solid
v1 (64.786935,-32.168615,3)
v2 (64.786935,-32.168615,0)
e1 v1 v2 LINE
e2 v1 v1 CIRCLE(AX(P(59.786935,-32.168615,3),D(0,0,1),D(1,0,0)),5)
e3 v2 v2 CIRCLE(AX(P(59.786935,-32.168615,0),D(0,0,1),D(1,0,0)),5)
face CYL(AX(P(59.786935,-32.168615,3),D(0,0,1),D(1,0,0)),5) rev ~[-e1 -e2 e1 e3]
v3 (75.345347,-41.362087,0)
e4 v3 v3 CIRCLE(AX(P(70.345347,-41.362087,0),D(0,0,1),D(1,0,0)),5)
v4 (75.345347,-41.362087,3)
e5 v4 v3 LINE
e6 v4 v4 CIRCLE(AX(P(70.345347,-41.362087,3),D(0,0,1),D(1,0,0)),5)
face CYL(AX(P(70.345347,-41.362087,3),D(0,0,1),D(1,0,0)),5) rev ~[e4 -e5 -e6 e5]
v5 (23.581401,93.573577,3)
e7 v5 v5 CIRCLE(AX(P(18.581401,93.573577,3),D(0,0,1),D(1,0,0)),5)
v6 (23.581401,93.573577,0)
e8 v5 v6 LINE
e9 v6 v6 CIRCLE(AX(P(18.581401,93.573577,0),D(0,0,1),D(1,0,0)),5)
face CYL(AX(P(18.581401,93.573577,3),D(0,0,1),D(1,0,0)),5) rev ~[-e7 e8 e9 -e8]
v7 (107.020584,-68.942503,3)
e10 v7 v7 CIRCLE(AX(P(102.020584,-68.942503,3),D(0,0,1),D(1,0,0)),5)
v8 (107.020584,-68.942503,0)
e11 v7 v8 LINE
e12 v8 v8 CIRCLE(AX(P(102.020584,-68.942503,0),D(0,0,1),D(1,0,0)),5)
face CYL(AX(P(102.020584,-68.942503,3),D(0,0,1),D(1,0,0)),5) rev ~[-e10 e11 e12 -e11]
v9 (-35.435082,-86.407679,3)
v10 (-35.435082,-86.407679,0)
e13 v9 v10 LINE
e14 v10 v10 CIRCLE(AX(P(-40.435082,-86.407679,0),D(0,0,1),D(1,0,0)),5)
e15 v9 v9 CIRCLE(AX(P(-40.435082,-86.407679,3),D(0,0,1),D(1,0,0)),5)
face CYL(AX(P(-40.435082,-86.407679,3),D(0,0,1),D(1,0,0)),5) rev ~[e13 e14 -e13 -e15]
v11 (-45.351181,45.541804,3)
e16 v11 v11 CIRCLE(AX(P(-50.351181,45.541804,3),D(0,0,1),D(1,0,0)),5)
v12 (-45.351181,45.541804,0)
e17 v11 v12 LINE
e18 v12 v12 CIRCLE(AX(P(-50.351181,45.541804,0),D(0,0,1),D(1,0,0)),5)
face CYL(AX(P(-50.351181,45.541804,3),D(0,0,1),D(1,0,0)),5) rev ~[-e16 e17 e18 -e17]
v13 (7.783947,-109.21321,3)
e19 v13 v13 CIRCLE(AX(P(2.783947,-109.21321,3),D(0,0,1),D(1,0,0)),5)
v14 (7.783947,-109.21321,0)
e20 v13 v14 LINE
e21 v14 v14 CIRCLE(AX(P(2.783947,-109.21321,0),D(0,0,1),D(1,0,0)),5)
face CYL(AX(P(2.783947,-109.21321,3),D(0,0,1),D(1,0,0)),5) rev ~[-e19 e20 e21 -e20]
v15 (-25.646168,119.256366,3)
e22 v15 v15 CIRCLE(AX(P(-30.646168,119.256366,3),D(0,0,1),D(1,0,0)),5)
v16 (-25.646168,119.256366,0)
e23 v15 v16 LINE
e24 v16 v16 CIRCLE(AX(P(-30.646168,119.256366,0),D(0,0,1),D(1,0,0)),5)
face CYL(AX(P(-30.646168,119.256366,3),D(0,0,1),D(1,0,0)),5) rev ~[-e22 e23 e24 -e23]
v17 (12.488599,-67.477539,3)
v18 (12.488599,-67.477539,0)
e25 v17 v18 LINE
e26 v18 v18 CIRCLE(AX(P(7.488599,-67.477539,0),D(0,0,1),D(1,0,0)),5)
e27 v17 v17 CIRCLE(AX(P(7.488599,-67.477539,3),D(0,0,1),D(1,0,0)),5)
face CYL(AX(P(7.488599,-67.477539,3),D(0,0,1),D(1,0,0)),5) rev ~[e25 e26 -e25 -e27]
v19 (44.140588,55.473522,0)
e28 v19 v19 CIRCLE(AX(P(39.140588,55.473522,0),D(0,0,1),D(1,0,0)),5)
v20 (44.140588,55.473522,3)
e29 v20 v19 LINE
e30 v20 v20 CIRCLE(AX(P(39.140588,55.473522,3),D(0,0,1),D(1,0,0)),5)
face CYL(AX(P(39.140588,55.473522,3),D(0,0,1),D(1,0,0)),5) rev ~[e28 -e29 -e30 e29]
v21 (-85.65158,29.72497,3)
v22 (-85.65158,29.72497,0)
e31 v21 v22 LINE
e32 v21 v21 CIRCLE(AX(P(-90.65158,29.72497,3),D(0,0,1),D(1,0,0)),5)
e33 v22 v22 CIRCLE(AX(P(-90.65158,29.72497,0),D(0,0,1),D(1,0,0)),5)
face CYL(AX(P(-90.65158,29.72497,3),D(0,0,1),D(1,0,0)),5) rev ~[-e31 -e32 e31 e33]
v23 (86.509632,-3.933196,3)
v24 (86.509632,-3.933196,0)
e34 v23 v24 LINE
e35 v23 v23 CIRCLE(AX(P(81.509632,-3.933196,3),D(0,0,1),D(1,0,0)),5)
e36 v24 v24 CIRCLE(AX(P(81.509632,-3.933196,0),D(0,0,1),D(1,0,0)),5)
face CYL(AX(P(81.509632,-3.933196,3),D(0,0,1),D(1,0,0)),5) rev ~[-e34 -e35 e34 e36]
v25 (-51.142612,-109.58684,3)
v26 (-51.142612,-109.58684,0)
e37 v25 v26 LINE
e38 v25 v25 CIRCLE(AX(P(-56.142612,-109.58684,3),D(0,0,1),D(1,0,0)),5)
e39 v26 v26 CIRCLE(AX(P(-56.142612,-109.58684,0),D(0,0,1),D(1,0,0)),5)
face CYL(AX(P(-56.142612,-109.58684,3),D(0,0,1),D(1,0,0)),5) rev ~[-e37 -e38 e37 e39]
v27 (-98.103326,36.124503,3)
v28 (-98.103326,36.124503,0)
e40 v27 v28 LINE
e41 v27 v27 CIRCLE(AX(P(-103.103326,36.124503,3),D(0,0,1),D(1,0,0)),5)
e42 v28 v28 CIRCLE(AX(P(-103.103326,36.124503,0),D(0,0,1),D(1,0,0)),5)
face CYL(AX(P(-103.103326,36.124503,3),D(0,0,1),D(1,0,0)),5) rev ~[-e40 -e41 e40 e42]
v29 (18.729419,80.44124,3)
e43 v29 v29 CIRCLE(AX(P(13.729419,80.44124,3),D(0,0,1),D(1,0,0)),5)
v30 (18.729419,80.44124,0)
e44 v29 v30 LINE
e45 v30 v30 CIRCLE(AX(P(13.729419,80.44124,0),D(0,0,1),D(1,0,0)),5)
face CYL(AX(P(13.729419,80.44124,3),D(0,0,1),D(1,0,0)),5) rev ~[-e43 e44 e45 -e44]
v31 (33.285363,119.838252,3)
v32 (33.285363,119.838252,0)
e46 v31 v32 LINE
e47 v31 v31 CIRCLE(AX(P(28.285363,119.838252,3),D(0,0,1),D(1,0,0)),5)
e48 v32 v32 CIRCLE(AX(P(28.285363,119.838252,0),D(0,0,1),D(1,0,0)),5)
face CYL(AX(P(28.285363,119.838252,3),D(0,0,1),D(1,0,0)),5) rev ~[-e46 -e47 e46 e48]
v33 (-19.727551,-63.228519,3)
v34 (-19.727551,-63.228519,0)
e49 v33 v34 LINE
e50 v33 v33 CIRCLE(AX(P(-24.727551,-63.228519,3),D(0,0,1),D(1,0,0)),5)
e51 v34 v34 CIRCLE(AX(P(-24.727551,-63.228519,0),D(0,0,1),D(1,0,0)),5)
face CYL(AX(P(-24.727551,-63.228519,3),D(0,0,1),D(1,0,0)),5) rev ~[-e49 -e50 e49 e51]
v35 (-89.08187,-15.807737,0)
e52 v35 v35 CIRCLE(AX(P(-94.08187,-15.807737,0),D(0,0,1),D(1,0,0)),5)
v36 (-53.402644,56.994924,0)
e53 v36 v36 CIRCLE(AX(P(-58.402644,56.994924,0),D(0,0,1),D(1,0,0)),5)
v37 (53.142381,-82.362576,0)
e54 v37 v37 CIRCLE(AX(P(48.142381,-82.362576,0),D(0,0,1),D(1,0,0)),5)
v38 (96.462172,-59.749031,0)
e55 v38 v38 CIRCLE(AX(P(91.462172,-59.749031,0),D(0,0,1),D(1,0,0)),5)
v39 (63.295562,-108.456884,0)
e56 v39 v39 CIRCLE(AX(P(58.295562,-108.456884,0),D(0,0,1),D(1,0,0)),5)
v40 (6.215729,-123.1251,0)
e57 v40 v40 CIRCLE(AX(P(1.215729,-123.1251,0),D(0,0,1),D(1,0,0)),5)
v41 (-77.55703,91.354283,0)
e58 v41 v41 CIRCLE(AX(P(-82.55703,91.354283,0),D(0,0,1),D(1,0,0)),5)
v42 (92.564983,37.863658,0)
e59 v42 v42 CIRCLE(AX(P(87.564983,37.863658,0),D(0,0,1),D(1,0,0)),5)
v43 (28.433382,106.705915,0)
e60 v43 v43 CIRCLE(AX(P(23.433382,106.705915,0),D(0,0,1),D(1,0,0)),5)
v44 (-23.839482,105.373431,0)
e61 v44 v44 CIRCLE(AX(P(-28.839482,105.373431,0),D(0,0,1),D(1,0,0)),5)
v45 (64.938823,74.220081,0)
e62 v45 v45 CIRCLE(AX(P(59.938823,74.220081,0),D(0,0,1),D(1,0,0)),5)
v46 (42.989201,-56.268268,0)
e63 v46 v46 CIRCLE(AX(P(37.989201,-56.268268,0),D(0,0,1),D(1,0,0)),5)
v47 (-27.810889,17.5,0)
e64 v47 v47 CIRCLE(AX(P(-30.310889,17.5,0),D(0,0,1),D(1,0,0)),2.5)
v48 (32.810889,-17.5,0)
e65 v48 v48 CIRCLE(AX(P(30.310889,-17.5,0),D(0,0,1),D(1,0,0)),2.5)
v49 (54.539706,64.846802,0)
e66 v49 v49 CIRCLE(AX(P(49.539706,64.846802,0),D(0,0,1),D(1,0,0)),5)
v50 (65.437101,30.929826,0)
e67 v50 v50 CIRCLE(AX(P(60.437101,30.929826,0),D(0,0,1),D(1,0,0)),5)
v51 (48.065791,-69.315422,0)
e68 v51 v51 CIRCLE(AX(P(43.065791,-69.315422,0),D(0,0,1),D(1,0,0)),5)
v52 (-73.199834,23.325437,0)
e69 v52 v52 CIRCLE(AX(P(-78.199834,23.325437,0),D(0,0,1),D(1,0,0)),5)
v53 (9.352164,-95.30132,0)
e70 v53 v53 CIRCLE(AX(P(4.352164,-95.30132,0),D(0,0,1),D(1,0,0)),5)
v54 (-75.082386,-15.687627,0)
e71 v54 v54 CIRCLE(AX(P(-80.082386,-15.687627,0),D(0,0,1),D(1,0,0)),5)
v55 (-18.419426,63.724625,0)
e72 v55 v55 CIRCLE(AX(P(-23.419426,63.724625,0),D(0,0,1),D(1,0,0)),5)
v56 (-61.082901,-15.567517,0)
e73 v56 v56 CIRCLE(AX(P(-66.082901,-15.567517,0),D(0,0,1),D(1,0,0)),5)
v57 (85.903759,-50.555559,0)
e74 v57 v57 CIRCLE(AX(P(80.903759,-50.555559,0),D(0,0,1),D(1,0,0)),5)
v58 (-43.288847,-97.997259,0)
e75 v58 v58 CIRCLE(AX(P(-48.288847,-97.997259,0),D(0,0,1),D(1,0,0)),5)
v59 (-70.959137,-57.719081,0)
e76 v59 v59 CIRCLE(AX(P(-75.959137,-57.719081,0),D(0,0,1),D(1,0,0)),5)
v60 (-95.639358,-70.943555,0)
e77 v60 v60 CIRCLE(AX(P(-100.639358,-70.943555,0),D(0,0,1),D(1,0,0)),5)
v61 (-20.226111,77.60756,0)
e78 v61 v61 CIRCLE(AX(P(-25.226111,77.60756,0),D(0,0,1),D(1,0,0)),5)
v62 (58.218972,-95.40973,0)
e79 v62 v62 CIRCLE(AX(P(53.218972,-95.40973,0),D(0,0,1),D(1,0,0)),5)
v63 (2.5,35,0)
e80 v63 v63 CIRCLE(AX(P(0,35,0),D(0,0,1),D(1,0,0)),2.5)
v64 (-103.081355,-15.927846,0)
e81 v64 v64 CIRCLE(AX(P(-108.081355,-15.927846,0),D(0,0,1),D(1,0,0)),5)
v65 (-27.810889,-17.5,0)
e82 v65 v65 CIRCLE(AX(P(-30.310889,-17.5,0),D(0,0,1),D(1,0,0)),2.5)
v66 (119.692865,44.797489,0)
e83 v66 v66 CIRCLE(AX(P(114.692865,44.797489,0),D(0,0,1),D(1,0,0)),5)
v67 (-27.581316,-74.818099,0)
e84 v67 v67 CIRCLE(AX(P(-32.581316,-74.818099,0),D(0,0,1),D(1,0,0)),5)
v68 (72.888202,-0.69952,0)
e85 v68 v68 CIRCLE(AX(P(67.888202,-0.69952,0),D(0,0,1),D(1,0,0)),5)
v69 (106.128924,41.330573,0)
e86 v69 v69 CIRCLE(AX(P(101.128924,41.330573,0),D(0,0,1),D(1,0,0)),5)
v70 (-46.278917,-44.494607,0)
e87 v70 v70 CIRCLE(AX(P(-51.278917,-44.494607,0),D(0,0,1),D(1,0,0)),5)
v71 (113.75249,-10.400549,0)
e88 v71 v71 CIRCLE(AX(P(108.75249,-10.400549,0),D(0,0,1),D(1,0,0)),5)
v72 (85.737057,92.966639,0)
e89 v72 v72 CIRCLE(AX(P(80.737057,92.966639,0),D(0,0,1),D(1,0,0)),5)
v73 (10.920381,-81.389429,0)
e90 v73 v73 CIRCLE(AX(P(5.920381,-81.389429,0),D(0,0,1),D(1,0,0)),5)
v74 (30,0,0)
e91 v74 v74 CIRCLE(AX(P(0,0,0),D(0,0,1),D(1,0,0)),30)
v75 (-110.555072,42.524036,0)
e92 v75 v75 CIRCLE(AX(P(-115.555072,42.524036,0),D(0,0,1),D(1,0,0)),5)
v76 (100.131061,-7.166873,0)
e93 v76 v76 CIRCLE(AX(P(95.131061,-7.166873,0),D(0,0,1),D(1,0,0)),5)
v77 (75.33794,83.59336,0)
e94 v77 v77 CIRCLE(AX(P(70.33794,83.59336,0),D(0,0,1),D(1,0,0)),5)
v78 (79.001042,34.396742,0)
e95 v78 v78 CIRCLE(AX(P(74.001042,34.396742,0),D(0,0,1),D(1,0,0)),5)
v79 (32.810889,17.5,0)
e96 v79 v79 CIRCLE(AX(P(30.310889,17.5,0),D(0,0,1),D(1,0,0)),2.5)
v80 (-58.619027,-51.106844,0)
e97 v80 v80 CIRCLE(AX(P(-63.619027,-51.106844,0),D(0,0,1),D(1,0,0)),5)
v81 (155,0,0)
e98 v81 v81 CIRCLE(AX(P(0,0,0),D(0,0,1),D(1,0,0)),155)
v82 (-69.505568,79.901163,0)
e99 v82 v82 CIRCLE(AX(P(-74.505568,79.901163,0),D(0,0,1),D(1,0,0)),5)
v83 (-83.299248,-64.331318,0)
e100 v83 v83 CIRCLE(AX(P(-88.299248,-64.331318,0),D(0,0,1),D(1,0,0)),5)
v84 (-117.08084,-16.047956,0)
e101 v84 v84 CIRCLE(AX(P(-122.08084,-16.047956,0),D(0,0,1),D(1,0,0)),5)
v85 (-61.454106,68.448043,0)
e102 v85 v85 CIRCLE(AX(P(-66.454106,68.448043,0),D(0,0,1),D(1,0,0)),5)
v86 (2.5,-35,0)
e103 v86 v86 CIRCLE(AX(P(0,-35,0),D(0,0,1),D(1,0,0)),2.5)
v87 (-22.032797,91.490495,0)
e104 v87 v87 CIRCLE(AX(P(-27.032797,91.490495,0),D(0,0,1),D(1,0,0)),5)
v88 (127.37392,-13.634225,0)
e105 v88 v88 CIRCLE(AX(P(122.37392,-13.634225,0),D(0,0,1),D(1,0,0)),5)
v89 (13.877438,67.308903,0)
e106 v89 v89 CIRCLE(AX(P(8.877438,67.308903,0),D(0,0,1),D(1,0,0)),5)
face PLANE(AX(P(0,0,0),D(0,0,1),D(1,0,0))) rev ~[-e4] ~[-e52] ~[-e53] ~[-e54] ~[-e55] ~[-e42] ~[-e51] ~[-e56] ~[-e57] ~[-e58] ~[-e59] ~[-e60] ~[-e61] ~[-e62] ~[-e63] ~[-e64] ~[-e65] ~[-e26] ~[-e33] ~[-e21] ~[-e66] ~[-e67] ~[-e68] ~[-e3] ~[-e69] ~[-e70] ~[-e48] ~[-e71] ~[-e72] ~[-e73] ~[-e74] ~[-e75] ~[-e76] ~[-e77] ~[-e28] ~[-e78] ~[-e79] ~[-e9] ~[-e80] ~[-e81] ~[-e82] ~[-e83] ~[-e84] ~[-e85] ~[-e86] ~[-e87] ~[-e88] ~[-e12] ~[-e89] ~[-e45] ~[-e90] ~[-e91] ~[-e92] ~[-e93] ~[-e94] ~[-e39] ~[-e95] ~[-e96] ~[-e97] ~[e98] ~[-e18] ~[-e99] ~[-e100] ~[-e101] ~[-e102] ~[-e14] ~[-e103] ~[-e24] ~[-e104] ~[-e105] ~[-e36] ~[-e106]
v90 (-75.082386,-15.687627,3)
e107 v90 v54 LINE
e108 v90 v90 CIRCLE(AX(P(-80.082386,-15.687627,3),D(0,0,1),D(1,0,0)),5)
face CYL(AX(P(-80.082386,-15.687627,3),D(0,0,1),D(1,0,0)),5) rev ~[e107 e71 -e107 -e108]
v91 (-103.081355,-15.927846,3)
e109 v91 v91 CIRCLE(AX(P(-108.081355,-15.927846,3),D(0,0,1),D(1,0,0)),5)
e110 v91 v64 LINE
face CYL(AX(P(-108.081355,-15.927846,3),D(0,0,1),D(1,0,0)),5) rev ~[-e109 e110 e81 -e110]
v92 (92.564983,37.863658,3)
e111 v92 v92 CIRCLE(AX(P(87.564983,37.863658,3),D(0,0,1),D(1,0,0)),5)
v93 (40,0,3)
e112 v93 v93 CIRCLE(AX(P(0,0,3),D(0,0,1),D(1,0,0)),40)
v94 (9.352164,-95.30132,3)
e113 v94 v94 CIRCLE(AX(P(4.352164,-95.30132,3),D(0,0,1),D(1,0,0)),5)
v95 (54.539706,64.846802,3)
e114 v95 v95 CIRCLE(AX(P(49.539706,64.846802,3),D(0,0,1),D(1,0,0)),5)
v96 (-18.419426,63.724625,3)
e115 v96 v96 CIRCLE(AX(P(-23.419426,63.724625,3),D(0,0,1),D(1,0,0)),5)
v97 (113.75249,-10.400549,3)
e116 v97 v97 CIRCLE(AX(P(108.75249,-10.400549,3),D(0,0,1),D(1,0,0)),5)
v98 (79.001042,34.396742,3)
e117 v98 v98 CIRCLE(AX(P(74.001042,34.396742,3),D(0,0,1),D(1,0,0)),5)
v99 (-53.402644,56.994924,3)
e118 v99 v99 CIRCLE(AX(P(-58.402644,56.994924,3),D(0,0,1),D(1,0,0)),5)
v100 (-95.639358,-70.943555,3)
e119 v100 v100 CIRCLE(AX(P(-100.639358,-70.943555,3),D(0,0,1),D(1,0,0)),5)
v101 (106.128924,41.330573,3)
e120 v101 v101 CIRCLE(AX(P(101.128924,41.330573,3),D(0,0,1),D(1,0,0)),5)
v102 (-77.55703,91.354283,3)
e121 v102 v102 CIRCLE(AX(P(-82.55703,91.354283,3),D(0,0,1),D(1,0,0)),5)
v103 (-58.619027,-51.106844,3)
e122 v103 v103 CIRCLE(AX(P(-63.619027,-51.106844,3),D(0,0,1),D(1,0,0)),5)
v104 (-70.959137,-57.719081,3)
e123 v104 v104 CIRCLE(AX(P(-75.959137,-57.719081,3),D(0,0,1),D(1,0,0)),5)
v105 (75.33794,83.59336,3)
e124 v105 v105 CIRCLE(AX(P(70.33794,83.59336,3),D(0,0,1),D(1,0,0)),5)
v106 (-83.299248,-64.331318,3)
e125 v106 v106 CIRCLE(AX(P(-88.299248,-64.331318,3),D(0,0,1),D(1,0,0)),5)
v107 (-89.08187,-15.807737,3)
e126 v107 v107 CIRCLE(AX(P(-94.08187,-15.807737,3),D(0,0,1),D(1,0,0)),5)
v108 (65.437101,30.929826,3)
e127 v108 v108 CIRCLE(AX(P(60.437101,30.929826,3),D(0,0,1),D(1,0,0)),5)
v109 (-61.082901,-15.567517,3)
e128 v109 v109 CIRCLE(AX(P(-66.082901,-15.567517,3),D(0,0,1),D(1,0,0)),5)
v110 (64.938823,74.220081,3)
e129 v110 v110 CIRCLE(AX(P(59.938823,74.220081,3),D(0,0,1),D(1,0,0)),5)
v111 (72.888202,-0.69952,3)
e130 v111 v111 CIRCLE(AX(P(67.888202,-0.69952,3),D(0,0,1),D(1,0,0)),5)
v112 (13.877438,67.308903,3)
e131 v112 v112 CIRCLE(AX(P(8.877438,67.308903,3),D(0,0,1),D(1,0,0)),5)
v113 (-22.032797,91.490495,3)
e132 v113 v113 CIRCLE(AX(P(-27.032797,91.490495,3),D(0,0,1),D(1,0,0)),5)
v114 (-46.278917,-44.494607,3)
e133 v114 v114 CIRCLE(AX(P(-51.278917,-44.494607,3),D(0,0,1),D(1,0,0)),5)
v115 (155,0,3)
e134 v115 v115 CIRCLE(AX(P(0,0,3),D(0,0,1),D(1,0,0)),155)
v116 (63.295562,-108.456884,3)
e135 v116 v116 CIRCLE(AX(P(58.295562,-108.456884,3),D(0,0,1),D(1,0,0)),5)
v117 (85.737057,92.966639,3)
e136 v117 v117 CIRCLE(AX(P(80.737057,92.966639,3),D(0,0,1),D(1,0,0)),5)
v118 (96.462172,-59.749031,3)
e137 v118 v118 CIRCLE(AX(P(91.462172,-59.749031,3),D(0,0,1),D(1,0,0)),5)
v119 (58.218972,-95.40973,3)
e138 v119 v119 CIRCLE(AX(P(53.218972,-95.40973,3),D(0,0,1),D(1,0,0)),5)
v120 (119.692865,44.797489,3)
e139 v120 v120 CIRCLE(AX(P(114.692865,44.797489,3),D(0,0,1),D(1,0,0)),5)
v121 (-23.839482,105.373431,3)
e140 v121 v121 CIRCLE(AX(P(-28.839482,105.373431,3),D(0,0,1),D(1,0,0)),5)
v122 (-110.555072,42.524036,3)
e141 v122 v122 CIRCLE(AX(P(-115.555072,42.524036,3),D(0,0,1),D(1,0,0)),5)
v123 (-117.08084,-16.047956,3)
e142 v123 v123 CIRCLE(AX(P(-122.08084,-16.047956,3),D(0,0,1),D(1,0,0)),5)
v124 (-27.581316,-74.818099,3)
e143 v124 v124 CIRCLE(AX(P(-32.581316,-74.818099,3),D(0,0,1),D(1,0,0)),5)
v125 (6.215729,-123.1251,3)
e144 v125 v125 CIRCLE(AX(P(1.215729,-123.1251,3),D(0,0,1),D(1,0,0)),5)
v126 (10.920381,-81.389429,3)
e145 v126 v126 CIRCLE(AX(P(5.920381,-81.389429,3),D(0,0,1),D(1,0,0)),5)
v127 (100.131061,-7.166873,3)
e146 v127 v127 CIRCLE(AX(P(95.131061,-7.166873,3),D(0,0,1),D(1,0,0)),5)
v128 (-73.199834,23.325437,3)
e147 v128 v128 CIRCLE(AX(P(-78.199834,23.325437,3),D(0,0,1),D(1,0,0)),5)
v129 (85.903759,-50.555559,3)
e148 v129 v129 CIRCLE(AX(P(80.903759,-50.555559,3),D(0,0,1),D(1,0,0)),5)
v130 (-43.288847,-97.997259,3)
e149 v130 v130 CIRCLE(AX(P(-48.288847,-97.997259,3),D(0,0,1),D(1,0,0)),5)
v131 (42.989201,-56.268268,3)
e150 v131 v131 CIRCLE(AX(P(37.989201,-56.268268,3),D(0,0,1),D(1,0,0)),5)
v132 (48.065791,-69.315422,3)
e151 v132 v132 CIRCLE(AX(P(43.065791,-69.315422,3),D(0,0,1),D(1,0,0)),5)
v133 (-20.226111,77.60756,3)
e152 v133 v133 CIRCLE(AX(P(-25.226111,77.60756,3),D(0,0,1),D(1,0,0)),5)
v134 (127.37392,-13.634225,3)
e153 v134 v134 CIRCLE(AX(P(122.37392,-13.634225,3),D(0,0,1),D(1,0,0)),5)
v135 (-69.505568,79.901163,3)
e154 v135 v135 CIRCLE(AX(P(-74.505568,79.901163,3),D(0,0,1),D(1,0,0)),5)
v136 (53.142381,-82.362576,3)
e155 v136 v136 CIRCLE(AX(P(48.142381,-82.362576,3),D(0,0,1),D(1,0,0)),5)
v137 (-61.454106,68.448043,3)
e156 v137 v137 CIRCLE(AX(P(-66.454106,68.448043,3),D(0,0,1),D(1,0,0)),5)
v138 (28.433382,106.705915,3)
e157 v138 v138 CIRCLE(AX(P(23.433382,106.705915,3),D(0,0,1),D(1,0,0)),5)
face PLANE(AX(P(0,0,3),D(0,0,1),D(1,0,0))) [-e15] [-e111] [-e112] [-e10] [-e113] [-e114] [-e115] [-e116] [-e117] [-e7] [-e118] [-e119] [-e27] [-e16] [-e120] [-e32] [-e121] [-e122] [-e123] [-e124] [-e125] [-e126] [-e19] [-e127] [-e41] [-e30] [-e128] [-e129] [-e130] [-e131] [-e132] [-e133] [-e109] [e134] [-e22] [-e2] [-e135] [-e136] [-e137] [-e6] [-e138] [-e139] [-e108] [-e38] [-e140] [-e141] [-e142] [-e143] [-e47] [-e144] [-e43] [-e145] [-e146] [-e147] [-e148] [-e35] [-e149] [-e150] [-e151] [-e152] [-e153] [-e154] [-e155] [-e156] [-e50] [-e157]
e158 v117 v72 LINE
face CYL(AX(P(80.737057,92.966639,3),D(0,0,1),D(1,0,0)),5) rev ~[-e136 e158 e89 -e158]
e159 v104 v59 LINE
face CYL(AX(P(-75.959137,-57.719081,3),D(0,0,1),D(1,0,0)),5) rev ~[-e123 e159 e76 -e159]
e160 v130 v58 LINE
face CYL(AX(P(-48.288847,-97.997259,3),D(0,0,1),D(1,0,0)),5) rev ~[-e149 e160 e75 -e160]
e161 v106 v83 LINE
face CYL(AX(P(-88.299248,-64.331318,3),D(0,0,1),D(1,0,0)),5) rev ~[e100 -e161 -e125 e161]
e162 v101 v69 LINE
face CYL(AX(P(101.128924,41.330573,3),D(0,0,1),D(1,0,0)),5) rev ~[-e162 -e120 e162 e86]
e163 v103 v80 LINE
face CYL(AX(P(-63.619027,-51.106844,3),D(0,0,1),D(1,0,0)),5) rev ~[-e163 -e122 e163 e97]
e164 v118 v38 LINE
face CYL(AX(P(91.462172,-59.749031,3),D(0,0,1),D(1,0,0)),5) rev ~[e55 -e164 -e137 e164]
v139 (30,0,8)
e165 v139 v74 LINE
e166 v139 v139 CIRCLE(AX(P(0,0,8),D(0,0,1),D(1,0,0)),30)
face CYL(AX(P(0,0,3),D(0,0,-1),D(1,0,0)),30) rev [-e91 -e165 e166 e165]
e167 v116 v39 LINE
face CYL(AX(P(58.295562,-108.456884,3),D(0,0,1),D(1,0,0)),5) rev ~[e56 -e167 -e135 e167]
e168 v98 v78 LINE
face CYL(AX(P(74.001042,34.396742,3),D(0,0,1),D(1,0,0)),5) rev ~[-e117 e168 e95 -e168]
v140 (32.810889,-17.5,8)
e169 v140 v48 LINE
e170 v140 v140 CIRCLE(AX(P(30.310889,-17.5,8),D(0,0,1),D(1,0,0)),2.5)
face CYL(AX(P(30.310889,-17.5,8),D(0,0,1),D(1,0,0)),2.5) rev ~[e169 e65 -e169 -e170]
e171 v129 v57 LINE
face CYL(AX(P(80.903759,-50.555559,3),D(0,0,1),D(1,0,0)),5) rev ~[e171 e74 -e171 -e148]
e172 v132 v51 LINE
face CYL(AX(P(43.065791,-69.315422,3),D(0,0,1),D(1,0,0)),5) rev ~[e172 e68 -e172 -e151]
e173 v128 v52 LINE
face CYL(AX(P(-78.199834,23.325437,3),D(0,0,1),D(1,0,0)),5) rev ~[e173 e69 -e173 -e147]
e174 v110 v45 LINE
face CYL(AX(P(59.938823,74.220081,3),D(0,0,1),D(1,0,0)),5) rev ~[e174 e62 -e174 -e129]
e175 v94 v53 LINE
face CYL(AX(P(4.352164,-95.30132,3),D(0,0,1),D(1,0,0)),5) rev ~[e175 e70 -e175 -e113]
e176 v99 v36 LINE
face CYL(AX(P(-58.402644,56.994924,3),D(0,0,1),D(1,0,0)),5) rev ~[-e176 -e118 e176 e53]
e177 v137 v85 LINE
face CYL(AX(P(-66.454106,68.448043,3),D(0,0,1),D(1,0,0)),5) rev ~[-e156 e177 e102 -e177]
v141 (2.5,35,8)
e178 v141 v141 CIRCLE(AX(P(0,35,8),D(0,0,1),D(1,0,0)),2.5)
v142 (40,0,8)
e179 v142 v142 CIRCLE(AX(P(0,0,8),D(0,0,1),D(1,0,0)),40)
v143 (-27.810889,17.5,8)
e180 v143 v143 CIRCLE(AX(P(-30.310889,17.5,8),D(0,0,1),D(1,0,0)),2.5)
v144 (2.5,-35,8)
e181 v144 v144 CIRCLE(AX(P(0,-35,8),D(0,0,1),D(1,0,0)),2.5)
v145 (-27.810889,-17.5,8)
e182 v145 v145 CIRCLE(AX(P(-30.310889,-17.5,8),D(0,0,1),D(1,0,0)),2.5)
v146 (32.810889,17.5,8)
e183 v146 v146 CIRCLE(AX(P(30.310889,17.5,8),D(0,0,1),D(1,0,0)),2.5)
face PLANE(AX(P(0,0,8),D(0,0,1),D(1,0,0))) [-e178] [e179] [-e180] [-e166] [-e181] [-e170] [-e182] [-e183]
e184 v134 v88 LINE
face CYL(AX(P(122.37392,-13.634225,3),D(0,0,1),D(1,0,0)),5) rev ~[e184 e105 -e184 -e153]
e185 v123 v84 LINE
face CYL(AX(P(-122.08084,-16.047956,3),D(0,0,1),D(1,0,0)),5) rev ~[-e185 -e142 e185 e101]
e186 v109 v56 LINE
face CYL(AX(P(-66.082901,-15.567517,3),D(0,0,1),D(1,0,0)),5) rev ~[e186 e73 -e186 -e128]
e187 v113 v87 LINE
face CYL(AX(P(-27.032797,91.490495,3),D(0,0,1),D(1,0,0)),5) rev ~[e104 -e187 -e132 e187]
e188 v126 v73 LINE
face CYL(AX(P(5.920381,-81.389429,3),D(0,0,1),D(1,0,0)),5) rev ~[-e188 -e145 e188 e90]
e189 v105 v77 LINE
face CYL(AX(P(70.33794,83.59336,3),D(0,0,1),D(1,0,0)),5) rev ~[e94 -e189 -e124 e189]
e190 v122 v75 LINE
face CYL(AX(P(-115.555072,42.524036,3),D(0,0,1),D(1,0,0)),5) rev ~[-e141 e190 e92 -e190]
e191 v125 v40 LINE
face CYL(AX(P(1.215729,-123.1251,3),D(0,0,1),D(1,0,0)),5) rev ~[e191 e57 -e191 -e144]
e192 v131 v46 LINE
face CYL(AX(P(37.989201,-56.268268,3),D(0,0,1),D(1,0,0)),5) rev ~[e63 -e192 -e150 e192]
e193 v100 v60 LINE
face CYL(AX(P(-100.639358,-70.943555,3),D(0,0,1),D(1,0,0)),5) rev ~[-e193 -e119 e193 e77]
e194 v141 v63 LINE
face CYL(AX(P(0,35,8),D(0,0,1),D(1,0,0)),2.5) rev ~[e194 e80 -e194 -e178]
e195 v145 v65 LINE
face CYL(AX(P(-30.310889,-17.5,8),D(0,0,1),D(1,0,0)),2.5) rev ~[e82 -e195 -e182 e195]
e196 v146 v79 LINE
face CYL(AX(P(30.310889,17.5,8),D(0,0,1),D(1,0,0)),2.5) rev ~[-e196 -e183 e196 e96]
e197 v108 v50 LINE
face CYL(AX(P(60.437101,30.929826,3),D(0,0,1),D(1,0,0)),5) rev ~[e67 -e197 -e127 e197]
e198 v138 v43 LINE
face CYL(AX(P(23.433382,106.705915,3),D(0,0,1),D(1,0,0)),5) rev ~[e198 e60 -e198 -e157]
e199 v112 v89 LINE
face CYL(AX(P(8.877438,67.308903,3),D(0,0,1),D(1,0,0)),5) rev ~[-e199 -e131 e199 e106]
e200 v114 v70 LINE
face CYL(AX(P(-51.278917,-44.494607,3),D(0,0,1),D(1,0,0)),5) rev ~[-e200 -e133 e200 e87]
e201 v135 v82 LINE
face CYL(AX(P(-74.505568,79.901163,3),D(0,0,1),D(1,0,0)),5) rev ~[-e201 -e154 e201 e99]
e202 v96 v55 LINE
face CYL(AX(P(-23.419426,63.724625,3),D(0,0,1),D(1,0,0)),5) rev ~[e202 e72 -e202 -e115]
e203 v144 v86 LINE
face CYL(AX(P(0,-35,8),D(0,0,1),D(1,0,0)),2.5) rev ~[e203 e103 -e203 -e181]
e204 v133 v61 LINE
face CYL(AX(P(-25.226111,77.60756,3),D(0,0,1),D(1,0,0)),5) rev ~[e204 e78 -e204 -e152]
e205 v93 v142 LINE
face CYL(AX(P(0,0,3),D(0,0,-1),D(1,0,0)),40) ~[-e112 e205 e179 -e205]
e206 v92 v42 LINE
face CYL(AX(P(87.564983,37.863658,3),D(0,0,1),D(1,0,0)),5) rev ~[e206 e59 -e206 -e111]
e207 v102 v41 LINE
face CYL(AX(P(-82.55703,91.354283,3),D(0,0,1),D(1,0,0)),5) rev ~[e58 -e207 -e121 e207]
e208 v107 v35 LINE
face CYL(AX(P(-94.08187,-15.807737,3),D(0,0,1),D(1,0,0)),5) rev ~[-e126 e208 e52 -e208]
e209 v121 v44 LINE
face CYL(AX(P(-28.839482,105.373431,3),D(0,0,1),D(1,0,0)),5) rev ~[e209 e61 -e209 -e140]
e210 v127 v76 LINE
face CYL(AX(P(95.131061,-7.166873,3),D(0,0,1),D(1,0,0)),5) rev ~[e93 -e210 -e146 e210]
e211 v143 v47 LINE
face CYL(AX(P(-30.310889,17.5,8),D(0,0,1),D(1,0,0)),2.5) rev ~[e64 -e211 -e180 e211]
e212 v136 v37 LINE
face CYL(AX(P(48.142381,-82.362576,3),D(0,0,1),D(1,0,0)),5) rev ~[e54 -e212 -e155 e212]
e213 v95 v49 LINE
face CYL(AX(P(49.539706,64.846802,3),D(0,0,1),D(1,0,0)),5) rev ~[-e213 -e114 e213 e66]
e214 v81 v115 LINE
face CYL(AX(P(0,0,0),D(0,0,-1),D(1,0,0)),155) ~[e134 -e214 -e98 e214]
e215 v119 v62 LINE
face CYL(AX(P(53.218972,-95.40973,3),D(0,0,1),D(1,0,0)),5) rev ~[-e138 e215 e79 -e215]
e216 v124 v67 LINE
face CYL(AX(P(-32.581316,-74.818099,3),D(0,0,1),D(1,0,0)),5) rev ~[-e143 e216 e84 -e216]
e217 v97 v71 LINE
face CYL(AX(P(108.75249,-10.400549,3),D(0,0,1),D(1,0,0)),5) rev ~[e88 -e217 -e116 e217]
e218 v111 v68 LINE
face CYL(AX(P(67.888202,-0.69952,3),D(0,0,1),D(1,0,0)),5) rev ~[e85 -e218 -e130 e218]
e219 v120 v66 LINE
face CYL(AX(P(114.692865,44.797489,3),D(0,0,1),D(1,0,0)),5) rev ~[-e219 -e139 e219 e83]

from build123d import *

# Parameters (mm, degrees)
SKETCH1_R           = 155
SKETCH1_R_2         = 30
EXTRUDE_THIN1_DEPTH = 3
SKETCH3_R           = 40
SKETCH3_R_2         = 30
EXTRUDE_THIN2_DEPTH = 5
SKETCH7_R           = 5
CUT_EXTRUDE3_DEPTH  = 220.260119493
SKETCH9_R           = 2.5
CUT_EXTRUDE4_DEPTH  = 220.349036925


with BuildPart() as part:
    # Sketch1 → Extrude-Thin1 (new body)
    with BuildSketch(Plane.XY):
        Circle(SKETCH1_R)
        Circle(SKETCH1_R_2, mode=Mode.SUBTRACT)
    extrude(amount=EXTRUDE_THIN1_DEPTH)

    # Sketch3 → Extrude-Thin2 (add)
    with BuildSketch(Plane.XY.offset(3)):
        Circle(SKETCH3_R)
        Circle(SKETCH3_R_2, mode=Mode.SUBTRACT)
    extrude(amount=EXTRUDE_THIN2_DEPTH)

    # Sketch7 → Cut-Extrude3 (cut, through all)
    with BuildSketch(Plane.XY.offset(3)):
        with Locations((-50.351181472, 45.541803602)):
            Circle(SKETCH7_R)
        with Locations((-58.402643714, 56.994923516)):
            Circle(SKETCH7_R)
        with Locations((-66.454105956, 68.44804343)):
            Circle(SKETCH7_R)
        with Locations((-74.505568198, 79.901163345)):
            Circle(SKETCH7_R)
        with Locations((-82.55703044, 91.354283259)):
            Circle(SKETCH7_R)
        with Locations((-23.419425603, 63.724625189)):
            Circle(SKETCH7_R)
        with Locations((-25.226111144, 77.607560302)):
            Circle(SKETCH7_R)
        with Locations((-27.032796685, 91.490495415)):
            Circle(SKETCH7_R)
        with Locations((-28.839482226, 105.373430528)):
            Circle(SKETCH7_R)
        with Locations((-30.646167767, 119.256365641)):
            Circle(SKETCH7_R)
        with Locations((8.877438438, 67.308903109)):
            Circle(SKETCH7_R)
        with Locations((13.729419482, 80.441240295)):
            Circle(SKETCH7_R)
        with Locations((18.581400526, 93.57357748)):
            Circle(SKETCH7_R)
        with Locations((23.43338157, 106.705914665)):
            Circle(SKETCH7_R)
        with Locations((28.285362614, 119.83825185)):
            Circle(SKETCH7_R)
        with Locations((39.140588317, 55.473522488)):
            Circle(SKETCH7_R)
        with Locations((49.539705562, 64.846801558)):
            Circle(SKETCH7_R)
        with Locations((59.938822807, 74.220080628)):
            Circle(SKETCH7_R)
        with Locations((70.337940052, 83.593359698)):
            Circle(SKETCH7_R)
        with Locations((80.737057297, 92.966638768)):
            Circle(SKETCH7_R)
        with Locations((60.437101108, 30.929826393)):
            Circle(SKETCH7_R)
        with Locations((74.001042116, 34.396742073)):
            Circle(SKETCH7_R)
        with Locations((87.564983124, 37.863657753)):
            Circle(SKETCH7_R)
        with Locations((101.128924132, 41.330573433)):
            Circle(SKETCH7_R)
        with Locations((114.69286514, 44.797489113)):
            Circle(SKETCH7_R)
        with Locations((67.888202381, -0.699520184)):
            Circle(SKETCH7_R)
        with Locations((81.50963173, -3.933196495)):
            Circle(SKETCH7_R)
        with Locations((95.131061079, -7.166872806)):
            Circle(SKETCH7_R)
        with Locations((108.752490428, -10.400549118)):
            Circle(SKETCH7_R)
        with Locations((122.373919778, -13.634225429)):
            Circle(SKETCH7_R)
        with Locations((59.78693463, -32.168615117)):
            Circle(SKETCH7_R)
        with Locations((70.345347013, -41.362087146)):
            Circle(SKETCH7_R)
        with Locations((80.903759395, -50.555559176)):
            Circle(SKETCH7_R)
        with Locations((91.462171778, -59.749031206)):
            Circle(SKETCH7_R)
        with Locations((102.02058416, -68.942503236)):
            Circle(SKETCH7_R)
        with Locations((37.989200666, -56.268268)):
            Circle(SKETCH7_R)
        with Locations((43.065791048, -69.3154221)):
            Circle(SKETCH7_R)
        with Locations((48.14238143, -82.362576199)):
            Circle(SKETCH7_R)
        with Locations((53.218971811, -95.409730299)):
            Circle(SKETCH7_R)
        with Locations((58.295562193, -108.456884398)):
            Circle(SKETCH7_R)
        with Locations((7.488598649, -67.477538791)):
            Circle(SKETCH7_R)
        with Locations((5.920381353, -81.389429191)):
            Circle(SKETCH7_R)
        with Locations((4.352164057, -95.301319592)):
            Circle(SKETCH7_R)
        with Locations((2.783946761, -109.213209992)):
            Circle(SKETCH7_R)
        with Locations((1.215729465, -123.125100392)):
            Circle(SKETCH7_R)
        with Locations((-24.727551071, -63.228518637)):
            Circle(SKETCH7_R)
        with Locations((-32.581316361, -74.818098904)):
            Circle(SKETCH7_R)
        with Locations((-40.435081651, -86.407679171)):
            Circle(SKETCH7_R)
        with Locations((-48.288846942, -97.997259438)):
            Circle(SKETCH7_R)
        with Locations((-56.142612232, -109.586839705)):
            Circle(SKETCH7_R)
        with Locations((-51.27891684, -44.49460685)):
            Circle(SKETCH7_R)
        with Locations((-63.619027145, -51.106843814)):
            Circle(SKETCH7_R)
        with Locations((-75.959137449, -57.719080778)):
            Circle(SKETCH7_R)
        with Locations((-88.299247754, -64.331317742)):
            Circle(SKETCH7_R)
        with Locations((-100.639358059, -70.943554706)):
            Circle(SKETCH7_R)
        with Locations((-66.082900739, -15.567516851)):
            Circle(SKETCH7_R)
        with Locations((-80.082385502, -15.68762671)):
            Circle(SKETCH7_R)
        with Locations((-94.081870264, -15.807736569)):
            Circle(SKETCH7_R)
        with Locations((-108.081355027, -15.927846427)):
            Circle(SKETCH7_R)
        with Locations((-122.08083979, -16.047956286)):
            Circle(SKETCH7_R)
        with Locations((-78.199834438, 23.325436617)):
            Circle(SKETCH7_R)
        with Locations((-90.651580411, 29.724969584)):
            Circle(SKETCH7_R)
        with Locations((-103.103326385, 36.124502552)):
            Circle(SKETCH7_R)
        with Locations((-115.555072359, 42.52403552)):
            Circle(SKETCH7_R)
    extrude(amount=-CUT_EXTRUDE3_DEPTH, mode=Mode.SUBTRACT)

    # Sketch9 → Cut-Extrude4 (cut, through all)
    with BuildSketch(Plane.XY.offset(8)):
        with Locations((0, 35)):
            Circle(SKETCH9_R)
        with Locations((30.310889132, 17.5)):
            Circle(SKETCH9_R)
        with Locations((30.310889132, -17.5)):
            Circle(SKETCH9_R)
        with Locations((0, -35)):
            Circle(SKETCH9_R)
        with Locations((-30.310889132, -17.5)):
            Circle(SKETCH9_R)
        with Locations((-30.310889132, 17.5)):
            Circle(SKETCH9_R)
    extrude(amount=-CUT_EXTRUDE4_DEPTH, mode=Mode.SUBTRACT)


solid = part.part
